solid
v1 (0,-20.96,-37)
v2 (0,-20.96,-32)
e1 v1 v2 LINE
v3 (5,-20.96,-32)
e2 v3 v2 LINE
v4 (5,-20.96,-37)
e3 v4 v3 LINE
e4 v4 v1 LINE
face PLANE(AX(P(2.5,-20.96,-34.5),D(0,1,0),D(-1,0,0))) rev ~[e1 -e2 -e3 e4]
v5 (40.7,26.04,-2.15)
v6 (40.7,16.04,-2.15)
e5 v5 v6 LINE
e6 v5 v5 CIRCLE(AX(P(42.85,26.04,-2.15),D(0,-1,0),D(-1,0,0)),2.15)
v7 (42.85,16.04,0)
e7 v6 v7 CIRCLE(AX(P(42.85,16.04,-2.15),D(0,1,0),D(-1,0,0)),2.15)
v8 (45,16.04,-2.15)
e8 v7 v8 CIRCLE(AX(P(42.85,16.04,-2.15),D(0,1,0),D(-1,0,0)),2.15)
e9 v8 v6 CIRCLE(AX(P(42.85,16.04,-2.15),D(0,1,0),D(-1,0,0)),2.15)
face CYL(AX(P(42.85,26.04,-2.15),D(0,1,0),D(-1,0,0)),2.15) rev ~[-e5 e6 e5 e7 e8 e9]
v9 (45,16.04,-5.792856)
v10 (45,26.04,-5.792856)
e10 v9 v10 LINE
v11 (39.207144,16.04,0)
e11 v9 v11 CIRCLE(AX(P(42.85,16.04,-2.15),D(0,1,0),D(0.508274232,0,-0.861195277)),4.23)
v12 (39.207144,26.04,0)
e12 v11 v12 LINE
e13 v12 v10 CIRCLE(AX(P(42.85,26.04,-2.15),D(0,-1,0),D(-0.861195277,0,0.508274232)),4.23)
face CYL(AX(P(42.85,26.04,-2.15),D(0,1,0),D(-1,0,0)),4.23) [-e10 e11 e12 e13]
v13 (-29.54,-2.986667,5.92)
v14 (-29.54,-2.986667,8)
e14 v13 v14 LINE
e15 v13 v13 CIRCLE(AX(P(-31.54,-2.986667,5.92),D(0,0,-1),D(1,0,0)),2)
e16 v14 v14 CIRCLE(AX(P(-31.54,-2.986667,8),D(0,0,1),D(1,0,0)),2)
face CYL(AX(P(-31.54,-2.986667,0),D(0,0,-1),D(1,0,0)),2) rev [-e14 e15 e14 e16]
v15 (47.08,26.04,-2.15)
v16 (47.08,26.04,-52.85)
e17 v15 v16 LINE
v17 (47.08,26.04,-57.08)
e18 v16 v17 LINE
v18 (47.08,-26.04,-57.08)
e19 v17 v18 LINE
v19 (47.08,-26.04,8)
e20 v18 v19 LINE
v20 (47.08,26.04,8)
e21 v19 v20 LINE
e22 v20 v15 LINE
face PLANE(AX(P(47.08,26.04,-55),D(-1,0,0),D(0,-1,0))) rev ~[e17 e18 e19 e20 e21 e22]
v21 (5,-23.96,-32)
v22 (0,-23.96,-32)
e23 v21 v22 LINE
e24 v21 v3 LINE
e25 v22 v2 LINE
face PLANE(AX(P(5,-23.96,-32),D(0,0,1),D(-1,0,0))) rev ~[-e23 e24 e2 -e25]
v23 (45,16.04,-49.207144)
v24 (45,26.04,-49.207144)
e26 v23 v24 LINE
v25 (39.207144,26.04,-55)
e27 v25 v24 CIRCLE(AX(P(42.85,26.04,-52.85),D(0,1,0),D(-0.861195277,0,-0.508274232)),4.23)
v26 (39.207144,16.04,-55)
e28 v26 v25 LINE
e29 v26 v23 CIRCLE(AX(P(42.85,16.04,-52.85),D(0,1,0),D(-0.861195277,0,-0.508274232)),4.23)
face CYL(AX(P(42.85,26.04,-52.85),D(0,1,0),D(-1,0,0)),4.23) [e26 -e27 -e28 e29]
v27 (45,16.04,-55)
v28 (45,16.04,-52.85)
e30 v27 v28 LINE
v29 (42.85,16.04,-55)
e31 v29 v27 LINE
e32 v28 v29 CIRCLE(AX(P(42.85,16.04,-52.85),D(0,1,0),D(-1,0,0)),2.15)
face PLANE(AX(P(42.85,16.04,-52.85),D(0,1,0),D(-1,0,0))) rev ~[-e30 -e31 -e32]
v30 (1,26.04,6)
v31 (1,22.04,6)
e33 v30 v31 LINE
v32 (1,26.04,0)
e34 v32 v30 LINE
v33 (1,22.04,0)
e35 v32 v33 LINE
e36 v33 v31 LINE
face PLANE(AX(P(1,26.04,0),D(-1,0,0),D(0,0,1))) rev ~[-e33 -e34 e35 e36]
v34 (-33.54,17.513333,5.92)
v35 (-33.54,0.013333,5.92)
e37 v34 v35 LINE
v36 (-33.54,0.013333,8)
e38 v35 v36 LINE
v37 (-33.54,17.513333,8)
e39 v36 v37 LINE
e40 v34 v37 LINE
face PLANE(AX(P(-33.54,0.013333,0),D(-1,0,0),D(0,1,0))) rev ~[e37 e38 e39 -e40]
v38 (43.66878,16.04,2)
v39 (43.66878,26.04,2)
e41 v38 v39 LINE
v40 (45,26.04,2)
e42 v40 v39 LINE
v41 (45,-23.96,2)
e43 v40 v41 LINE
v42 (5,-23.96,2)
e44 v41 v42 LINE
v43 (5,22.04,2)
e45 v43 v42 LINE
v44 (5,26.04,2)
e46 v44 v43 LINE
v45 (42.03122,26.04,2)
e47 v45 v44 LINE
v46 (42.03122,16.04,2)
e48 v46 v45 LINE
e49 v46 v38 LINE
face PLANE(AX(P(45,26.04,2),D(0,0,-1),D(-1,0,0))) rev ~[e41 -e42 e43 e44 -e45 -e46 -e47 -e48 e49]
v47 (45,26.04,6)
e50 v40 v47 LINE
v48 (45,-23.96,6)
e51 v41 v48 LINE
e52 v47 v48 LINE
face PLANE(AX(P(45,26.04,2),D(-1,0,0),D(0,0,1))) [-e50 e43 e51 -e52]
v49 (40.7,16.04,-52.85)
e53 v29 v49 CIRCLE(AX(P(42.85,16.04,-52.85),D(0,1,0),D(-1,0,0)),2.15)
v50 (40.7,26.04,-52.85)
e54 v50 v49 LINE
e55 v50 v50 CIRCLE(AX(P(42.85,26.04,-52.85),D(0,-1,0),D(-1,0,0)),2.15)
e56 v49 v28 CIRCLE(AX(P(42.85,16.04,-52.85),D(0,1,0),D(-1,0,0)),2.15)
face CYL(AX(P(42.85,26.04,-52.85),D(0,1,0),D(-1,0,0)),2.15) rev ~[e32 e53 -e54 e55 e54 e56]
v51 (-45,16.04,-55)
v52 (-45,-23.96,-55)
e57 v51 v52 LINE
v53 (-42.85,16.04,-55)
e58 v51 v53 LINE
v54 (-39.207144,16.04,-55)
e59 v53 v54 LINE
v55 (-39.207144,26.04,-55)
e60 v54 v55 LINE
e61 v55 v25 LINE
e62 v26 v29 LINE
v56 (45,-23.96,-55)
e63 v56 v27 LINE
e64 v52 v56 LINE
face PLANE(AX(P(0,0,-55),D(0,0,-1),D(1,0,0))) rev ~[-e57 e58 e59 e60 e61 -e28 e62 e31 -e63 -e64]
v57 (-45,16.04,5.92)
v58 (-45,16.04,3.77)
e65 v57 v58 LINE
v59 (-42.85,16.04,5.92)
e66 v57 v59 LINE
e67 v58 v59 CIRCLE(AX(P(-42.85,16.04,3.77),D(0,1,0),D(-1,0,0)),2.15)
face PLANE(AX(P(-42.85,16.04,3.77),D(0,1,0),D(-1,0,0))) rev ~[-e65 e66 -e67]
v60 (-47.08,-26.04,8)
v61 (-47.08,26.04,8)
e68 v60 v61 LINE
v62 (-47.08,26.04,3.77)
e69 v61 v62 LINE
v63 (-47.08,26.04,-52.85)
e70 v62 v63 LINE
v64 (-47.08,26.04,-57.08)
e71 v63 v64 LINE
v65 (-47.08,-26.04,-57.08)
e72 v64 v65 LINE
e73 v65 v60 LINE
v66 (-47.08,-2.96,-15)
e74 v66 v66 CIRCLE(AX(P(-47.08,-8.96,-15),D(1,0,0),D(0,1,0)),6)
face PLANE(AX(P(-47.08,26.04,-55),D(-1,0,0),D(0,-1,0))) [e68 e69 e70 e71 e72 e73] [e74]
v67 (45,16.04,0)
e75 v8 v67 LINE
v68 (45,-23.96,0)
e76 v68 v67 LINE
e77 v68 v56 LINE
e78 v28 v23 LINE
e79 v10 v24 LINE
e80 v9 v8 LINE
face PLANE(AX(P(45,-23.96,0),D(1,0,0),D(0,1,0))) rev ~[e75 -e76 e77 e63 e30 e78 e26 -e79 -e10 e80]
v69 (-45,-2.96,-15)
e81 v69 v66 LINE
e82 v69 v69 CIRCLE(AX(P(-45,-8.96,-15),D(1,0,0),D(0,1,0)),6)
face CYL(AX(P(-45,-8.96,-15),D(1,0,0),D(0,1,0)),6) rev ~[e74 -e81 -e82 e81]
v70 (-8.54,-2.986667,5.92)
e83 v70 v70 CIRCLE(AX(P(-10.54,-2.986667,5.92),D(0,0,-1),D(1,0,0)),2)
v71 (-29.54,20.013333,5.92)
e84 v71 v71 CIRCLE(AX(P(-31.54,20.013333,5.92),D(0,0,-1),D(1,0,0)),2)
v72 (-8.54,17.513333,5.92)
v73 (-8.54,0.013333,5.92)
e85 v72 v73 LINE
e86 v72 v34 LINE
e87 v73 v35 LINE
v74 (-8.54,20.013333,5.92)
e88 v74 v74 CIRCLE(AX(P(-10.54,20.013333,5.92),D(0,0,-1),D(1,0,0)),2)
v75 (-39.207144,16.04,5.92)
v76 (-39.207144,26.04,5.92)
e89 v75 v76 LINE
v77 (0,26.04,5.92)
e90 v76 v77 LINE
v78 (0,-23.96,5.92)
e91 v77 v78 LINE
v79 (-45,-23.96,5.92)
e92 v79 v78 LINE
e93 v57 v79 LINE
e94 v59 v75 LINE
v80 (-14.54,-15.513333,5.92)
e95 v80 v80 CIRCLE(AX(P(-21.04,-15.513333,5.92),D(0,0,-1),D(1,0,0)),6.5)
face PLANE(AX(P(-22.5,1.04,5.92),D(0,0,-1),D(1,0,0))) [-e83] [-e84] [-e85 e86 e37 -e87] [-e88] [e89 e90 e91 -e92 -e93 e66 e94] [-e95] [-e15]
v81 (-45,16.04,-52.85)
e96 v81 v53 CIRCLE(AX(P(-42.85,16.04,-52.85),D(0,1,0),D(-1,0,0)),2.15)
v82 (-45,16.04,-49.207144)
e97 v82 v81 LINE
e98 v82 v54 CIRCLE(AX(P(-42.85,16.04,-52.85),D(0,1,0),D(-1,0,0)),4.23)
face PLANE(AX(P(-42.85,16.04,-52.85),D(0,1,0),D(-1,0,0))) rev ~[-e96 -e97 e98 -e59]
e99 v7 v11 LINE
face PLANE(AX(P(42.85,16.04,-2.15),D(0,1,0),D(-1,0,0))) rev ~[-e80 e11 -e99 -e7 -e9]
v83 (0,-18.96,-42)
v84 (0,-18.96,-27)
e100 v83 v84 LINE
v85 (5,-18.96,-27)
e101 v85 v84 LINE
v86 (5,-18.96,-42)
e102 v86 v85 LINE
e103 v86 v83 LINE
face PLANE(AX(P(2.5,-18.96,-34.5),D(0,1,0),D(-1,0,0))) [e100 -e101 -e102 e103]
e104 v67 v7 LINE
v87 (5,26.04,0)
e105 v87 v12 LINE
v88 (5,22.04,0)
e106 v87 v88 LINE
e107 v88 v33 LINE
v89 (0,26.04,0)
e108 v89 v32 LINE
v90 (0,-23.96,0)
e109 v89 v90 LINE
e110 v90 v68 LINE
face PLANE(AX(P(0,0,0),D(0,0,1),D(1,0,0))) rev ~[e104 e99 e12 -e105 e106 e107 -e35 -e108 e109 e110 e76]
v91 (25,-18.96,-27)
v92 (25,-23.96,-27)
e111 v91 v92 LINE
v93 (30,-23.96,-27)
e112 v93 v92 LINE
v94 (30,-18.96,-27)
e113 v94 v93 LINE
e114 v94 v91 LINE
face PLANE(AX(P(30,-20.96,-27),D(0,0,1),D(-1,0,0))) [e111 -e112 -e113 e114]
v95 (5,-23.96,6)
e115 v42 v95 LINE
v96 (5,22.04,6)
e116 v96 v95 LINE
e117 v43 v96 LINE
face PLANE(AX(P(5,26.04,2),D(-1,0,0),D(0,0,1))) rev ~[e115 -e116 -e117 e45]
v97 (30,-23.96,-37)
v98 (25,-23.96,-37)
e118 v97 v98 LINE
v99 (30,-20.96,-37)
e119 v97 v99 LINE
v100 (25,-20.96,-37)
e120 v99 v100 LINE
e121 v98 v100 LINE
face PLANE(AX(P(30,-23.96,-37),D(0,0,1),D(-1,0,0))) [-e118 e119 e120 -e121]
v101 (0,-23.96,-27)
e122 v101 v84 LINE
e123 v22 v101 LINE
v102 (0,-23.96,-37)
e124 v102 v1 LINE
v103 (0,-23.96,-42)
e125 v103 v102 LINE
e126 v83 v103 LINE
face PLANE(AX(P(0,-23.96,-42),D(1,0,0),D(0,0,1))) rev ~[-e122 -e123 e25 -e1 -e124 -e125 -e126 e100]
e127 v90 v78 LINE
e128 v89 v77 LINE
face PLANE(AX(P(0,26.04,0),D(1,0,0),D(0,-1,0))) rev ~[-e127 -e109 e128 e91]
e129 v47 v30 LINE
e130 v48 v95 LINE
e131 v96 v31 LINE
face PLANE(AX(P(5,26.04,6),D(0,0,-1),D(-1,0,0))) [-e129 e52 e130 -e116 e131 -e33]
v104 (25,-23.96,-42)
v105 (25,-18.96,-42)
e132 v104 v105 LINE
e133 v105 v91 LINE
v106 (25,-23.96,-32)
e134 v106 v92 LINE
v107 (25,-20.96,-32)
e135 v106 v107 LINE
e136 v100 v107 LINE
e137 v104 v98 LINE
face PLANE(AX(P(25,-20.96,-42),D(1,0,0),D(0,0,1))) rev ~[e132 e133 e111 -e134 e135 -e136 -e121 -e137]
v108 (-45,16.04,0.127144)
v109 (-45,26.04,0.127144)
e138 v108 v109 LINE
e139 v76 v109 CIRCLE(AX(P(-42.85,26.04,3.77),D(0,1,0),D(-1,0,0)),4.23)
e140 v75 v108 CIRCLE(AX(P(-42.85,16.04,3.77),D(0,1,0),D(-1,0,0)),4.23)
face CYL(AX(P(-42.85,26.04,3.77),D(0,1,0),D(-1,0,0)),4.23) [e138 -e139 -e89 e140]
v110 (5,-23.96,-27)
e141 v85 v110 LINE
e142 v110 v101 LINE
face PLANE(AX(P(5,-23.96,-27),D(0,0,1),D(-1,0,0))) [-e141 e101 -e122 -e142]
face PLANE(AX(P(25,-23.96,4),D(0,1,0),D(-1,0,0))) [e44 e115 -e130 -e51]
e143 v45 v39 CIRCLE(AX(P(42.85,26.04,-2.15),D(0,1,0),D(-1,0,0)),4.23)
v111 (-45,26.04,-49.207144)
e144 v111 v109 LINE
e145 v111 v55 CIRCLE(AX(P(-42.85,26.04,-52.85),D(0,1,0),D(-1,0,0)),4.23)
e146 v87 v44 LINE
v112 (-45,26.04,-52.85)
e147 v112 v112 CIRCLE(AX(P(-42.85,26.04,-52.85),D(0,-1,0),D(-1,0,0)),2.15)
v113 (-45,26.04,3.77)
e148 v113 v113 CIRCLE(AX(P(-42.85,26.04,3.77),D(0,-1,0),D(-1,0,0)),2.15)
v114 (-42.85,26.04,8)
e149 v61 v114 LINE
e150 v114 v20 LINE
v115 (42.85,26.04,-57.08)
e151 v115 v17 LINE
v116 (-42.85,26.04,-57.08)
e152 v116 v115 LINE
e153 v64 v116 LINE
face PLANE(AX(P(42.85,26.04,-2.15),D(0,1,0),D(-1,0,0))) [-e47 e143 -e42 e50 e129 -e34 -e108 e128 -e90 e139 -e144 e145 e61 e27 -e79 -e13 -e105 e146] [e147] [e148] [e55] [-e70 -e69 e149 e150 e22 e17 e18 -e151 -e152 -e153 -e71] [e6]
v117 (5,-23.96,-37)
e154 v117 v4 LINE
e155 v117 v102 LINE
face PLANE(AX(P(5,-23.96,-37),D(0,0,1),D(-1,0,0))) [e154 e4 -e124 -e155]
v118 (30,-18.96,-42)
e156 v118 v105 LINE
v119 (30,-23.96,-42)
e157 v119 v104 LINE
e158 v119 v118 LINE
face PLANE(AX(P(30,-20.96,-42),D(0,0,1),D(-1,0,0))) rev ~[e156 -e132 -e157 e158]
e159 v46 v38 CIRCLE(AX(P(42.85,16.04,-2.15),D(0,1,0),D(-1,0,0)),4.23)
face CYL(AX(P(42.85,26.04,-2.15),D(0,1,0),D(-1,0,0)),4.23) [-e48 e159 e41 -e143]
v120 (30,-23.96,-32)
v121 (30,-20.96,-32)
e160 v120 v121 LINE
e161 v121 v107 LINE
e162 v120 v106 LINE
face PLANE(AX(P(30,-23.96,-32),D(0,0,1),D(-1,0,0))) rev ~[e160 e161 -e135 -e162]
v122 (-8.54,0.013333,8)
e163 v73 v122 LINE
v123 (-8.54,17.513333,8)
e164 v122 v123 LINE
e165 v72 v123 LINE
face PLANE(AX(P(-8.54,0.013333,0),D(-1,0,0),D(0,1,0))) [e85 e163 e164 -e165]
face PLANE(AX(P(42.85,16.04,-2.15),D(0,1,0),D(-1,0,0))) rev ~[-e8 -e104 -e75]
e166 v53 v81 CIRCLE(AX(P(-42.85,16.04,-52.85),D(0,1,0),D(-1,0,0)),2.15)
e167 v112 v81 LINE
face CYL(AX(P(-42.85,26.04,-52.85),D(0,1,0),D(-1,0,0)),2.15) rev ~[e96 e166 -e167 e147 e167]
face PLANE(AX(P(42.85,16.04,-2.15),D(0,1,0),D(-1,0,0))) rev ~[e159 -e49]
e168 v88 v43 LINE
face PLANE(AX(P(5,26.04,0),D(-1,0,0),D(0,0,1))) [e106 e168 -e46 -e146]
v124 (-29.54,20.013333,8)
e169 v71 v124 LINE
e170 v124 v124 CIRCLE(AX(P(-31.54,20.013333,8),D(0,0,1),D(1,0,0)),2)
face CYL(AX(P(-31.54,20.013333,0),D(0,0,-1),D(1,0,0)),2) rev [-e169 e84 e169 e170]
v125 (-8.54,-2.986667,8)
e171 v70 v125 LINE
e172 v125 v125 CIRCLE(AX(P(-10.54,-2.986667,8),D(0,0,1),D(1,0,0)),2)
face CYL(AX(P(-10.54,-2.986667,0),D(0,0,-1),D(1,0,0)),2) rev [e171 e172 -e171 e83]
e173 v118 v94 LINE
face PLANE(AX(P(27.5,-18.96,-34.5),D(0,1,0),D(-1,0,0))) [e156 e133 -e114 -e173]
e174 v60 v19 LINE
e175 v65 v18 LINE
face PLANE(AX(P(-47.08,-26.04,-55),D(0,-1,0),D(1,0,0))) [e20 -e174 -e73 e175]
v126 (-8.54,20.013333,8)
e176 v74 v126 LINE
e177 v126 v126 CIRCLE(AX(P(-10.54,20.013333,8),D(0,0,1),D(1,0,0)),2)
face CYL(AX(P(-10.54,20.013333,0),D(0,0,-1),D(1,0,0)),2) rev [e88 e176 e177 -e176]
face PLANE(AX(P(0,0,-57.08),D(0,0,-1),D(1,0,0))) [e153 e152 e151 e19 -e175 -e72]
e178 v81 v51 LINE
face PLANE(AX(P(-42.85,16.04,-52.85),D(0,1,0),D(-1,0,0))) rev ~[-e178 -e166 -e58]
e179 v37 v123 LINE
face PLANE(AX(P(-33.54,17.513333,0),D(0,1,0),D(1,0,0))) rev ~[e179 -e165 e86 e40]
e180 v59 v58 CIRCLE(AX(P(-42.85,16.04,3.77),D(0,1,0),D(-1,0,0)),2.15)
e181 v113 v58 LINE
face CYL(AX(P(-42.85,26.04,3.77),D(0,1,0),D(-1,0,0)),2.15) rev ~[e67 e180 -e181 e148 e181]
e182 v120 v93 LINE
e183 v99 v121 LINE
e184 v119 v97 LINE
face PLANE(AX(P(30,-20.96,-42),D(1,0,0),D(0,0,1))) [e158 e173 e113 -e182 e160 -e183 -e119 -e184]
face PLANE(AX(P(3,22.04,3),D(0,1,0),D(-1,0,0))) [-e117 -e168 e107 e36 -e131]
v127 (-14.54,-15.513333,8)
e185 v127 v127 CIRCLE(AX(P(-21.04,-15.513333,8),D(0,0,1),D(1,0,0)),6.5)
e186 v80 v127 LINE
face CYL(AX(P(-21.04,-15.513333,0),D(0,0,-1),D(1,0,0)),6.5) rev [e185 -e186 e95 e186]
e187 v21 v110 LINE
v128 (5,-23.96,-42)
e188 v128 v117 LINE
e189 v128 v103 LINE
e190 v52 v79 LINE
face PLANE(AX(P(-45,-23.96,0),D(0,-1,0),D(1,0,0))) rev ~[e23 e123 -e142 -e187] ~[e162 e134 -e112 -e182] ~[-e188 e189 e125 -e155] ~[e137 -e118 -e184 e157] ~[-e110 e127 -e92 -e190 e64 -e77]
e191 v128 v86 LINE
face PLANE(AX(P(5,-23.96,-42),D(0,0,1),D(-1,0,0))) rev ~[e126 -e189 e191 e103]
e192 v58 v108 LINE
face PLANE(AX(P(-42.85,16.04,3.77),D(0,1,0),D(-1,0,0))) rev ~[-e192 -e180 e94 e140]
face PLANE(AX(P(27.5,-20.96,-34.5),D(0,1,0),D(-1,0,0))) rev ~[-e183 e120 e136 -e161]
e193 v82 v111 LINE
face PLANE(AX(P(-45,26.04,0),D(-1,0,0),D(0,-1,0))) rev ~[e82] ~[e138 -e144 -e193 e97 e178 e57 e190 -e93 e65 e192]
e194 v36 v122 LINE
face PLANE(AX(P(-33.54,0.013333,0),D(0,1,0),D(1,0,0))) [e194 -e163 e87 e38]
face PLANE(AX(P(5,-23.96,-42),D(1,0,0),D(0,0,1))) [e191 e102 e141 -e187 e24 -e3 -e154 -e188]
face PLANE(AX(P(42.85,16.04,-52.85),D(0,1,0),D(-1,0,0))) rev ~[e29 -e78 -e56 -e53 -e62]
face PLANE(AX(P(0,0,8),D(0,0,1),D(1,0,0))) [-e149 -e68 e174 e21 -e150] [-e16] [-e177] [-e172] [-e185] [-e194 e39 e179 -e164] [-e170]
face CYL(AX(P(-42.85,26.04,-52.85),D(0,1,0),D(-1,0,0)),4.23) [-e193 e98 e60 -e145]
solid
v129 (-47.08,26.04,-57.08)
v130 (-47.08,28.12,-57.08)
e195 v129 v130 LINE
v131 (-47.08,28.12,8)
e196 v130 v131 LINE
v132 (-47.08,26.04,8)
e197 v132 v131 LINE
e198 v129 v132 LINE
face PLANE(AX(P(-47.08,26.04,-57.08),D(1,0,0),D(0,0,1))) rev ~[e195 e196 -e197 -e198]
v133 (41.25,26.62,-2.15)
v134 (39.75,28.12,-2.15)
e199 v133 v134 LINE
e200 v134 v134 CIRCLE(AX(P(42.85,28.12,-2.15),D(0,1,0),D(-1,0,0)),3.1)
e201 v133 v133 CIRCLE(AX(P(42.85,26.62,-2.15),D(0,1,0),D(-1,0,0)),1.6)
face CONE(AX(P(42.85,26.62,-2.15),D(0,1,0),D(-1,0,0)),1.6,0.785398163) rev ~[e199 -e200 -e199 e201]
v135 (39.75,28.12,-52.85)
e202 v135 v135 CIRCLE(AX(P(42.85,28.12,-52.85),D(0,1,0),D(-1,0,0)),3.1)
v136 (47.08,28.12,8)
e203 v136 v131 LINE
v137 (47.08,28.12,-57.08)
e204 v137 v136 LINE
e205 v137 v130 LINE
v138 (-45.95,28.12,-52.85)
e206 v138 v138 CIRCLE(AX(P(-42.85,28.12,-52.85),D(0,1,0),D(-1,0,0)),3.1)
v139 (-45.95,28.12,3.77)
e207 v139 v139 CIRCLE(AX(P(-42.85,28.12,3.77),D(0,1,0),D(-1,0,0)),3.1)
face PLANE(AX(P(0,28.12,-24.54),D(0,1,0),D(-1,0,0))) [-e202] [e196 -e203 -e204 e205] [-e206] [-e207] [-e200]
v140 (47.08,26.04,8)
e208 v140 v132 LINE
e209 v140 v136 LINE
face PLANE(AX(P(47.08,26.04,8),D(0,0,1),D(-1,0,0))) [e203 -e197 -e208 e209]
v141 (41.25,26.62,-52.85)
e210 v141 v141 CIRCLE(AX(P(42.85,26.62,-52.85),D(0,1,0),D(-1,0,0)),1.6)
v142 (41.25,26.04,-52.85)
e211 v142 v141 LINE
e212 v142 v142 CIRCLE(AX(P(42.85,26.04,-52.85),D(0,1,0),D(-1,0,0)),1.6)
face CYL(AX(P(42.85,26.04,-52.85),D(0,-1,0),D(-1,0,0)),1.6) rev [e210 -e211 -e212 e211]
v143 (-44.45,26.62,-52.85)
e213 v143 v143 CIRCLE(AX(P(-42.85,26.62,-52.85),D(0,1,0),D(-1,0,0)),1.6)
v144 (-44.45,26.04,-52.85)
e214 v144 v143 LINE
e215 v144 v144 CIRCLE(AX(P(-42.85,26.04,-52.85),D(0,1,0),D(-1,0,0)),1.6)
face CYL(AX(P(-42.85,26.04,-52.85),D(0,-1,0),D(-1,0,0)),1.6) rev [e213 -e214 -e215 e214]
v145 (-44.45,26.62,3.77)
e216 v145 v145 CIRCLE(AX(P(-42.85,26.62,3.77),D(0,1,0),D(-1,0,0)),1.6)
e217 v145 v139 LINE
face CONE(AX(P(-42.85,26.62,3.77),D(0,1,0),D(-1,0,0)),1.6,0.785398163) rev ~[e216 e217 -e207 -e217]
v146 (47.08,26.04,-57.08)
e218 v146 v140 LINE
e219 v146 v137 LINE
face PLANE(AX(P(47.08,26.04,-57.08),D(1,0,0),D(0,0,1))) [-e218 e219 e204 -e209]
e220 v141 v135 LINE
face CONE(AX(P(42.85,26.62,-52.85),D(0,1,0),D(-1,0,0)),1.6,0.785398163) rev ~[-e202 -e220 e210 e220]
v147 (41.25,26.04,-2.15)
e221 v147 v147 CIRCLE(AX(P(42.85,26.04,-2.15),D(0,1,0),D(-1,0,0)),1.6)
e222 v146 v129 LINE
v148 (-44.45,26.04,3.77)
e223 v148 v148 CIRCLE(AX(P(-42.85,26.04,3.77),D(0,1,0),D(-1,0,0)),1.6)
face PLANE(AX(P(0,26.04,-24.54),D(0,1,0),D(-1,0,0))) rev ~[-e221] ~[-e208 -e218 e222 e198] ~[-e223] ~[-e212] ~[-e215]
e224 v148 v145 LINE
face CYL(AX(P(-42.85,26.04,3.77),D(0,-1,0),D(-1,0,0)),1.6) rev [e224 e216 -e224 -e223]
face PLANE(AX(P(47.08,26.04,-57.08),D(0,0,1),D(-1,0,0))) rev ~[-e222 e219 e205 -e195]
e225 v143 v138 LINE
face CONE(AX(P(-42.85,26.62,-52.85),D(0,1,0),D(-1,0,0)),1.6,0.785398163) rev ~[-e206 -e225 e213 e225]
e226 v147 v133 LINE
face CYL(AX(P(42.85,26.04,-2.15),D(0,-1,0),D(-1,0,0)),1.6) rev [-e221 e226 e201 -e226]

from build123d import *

# Parameters (mm, degrees)
SKETCH_W        = 94.16
SKETCH_H        = 52.08
SKETCH_R        = 2
SKETCH_R_2      = 6.5
SKETCH_W_2      = 25
SKETCH_H_2      = 17.5
PAD_DEPTH       = 8
SKETCH001_W     = 40
SKETCH001_H     = 4
POCKET_DEPTH    = 50
SKETCH002_W     = 4
SKETCH002_H     = 6
POCKET001_DEPTH = 4
PAD001_DEPTH    = 55
SKETCH004_W     = 94.16
SKETCH004_H     = 52.08
PAD002_DEPTH    = 2.08
SKETCH005_W     = 5
SKETCH005_H     = 5
PAD003_DEPTH    = 3
SKETCH006_W     = 5
SKETCH006_H     = 15
PAD004_DEPTH    = 2
SKETCH007_W     = 45
SKETCH007_H     = 50
POCKET002_DEPTH = 5.92
SKETCH008_R     = 6
POCKET003_DEPTH = 2.081
SKETCH009_R     = 4.23
SKETCH009_R_2   = 2.15
PAD005_DEPTH    = 10
SKETCH010_W     = 94.16
SKETCH010_H     = 65.08
SKETCH010_R     = 1.6
PAD006_DEPTH    = 2.08
CHAMFER_SIZE    = 1.5


with BuildPart() as body:
    # Sketch → Pad (new body)
    with BuildSketch(Plane.XY):
        Rectangle(SKETCH_W, SKETCH_H)
        with Locations((-10.54, 20.013333)):
            Circle(SKETCH_R, mode=Mode.SUBTRACT)
        with Locations((-31.54, -2.986667)):
            Circle(SKETCH_R, mode=Mode.SUBTRACT)
        with Locations((-31.54, 20.013333)):
            Circle(SKETCH_R, mode=Mode.SUBTRACT)
        with Locations((-10.54, -2.986667)):
            Circle(SKETCH_R, mode=Mode.SUBTRACT)
        with Locations((-21.04, -15.513333)):
            Circle(SKETCH_R_2, mode=Mode.SUBTRACT)
        with Locations((-21.04, 8.763333)):
            Rectangle(SKETCH_W_2, SKETCH_H_2, mode=Mode.SUBTRACT)
    extrude(amount=PAD_DEPTH)

    # Sketch001 (on Face1 of Pad) → Pocket (cut)
    with BuildSketch(Plane(origin=(0, 26.04, 0), x_dir=(-1, 0, 0), z_dir=(0, 1, 0))):
        with Locations((-25, 4)):
            Rectangle(SKETCH001_W, SKETCH001_H)
    extrude(amount=-POCKET_DEPTH, mode=Mode.SUBTRACT)

    # Sketch002 (on Face1 of Pocket) → Pocket001 (cut)
    with BuildSketch(Plane(origin=(0, 26.04, 0), x_dir=(-1, 0, 0), z_dir=(0, 1, 0))):
        with Locations((-3, 3)):
            Rectangle(SKETCH002_W, SKETCH002_H)
    extrude(amount=-POCKET001_DEPTH, mode=Mode.SUBTRACT)

    # Sketch003 (on Face2 of Pocket001) → Pad001 (join)
    with BuildSketch(Plane(origin=(0, 0, 0), x_dir=(1, 0, 0), z_dir=(0, 0, -1))):
        Polygon((-45, 23.96), (45, 23.96), (45, -26.04), (47.08, -26.04), (47.08, 26.04), (-47.08, 26.04), (-47.08, -26.04), (-45, -26.04), align=None)
    extrude(amount=PAD001_DEPTH)

    # Sketch004 (on Face16 of Pad001) → Pad002 (join)
    with BuildSketch(Plane(origin=(0, 0, -55), x_dir=(1, 0, 0), z_dir=(0, 0, -1))):
        Rectangle(SKETCH004_W, SKETCH004_H)
    extrude(amount=PAD002_DEPTH)

    # Sketch005 (on Face19 of Pad002) → Pad003 (join)
    with BuildSketch(Plane(origin=(0, -23.96, 0), x_dir=(-1, 0, 0), z_dir=(0, 1, 0))):
        with Locations((-27.5, -39.5)):
            Rectangle(SKETCH005_W, SKETCH005_H)
        with Locations((-27.5, -29.5)):
            Rectangle(SKETCH005_W, SKETCH005_H)
        with Locations((-2.5, -29.5)):
            Rectangle(SKETCH005_W, SKETCH005_H)
        with Locations((-2.5, -39.5)):
            Rectangle(SKETCH005_W, SKETCH005_H)
    extrude(amount=PAD003_DEPTH)

    # Sketch006 (on Face55 of Pad003) → Pad004 (join)
    with BuildSketch(Plane(origin=(0, -20.96, 0), x_dir=(-1, 0, 0), z_dir=(0, 1, 0))):
        with Locations((-27.5, -34.5)):
            Rectangle(SKETCH006_W, SKETCH006_H)
        with Locations((-2.5, -34.5)):
            Rectangle(SKETCH006_W, SKETCH006_H)
    extrude(amount=PAD004_DEPTH)

    # Sketch007 (on Face3 of Pad004) → Pocket002 (cut)
    with BuildSketch(Plane(origin=(0, 0, 0), x_dir=(1, 0, 0), z_dir=(0, 0, -1))):
        with Locations((-22.5, -1.04)):
            Rectangle(SKETCH007_W, SKETCH007_H)
    extrude(amount=-POCKET002_DEPTH, mode=Mode.SUBTRACT)

    # Sketch008 (on Face18 of Pocket002) → Pocket003 (cut, through all)
    with BuildSketch(Plane.YZ.offset(-45)):
        with Locations((-8.96, -15)):
            Circle(SKETCH008_R)
    extrude(amount=-POCKET003_DEPTH, mode=Mode.SUBTRACT)

    # Sketch009 (on Face13 of Pocket003) → Pad005 (join)
    with BuildSketch(Plane(origin=(0, 26.04, 0), x_dir=(-1, 0, 0), z_dir=(0, 1, 0))):
        with Locations((-42.85, -2.15)):
            Circle(SKETCH009_R)
        with Locations((-42.85, -2.15)):
            Circle(SKETCH009_R_2, mode=Mode.SUBTRACT)
        with Locations((42.85, -52.85)):
            Circle(SKETCH009_R)
        with Locations((42.85, -52.85)):
            Circle(SKETCH009_R_2, mode=Mode.SUBTRACT)
        with Locations((42.85, 3.77)):
            Circle(SKETCH009_R)
        with Locations((42.85, 3.77)):
            Circle(SKETCH009_R_2, mode=Mode.SUBTRACT)
        with Locations((-42.85, -52.85)):
            Circle(SKETCH009_R)
        with Locations((-42.85, -52.85)):
            Circle(SKETCH009_R_2, mode=Mode.SUBTRACT)
    extrude(amount=-PAD005_DEPTH)


with BuildPart() as lid:
    # Sketch010 (on Face1 of ShapeBinder) → Pad006 (new body)
    with BuildSketch(Plane(origin=(0, 26.04, 0), x_dir=(-1, 0, 0), z_dir=(0, 1, 0))):
        with Locations((0, -24.54)):
            Rectangle(SKETCH010_W, SKETCH010_H)
        with Locations((-42.85, -2.15)):
            Circle(SKETCH010_R, mode=Mode.SUBTRACT)
        with Locations((42.85, 3.77)):
            Circle(SKETCH010_R, mode=Mode.SUBTRACT)
        with Locations((42.85, -52.85)):
            Circle(SKETCH010_R, mode=Mode.SUBTRACT)
        with Locations((-42.85, -52.85)):
            Circle(SKETCH010_R, mode=Mode.SUBTRACT)
    extrude(amount=PAD006_DEPTH)

    # Chamfer
    chamfer_edges = [lid.edges().sort_by_distance(p)[0] for p in [
        (44.45, 28.12, -52.85),
        (44.45, 28.12, -2.15),
        (-41.25, 28.12, 3.77),
        (-41.25, 28.12, -52.85),
    ]]
    chamfer(chamfer_edges, length=CHAMFER_SIZE)


solid = Compound([body.part, lid.part])
